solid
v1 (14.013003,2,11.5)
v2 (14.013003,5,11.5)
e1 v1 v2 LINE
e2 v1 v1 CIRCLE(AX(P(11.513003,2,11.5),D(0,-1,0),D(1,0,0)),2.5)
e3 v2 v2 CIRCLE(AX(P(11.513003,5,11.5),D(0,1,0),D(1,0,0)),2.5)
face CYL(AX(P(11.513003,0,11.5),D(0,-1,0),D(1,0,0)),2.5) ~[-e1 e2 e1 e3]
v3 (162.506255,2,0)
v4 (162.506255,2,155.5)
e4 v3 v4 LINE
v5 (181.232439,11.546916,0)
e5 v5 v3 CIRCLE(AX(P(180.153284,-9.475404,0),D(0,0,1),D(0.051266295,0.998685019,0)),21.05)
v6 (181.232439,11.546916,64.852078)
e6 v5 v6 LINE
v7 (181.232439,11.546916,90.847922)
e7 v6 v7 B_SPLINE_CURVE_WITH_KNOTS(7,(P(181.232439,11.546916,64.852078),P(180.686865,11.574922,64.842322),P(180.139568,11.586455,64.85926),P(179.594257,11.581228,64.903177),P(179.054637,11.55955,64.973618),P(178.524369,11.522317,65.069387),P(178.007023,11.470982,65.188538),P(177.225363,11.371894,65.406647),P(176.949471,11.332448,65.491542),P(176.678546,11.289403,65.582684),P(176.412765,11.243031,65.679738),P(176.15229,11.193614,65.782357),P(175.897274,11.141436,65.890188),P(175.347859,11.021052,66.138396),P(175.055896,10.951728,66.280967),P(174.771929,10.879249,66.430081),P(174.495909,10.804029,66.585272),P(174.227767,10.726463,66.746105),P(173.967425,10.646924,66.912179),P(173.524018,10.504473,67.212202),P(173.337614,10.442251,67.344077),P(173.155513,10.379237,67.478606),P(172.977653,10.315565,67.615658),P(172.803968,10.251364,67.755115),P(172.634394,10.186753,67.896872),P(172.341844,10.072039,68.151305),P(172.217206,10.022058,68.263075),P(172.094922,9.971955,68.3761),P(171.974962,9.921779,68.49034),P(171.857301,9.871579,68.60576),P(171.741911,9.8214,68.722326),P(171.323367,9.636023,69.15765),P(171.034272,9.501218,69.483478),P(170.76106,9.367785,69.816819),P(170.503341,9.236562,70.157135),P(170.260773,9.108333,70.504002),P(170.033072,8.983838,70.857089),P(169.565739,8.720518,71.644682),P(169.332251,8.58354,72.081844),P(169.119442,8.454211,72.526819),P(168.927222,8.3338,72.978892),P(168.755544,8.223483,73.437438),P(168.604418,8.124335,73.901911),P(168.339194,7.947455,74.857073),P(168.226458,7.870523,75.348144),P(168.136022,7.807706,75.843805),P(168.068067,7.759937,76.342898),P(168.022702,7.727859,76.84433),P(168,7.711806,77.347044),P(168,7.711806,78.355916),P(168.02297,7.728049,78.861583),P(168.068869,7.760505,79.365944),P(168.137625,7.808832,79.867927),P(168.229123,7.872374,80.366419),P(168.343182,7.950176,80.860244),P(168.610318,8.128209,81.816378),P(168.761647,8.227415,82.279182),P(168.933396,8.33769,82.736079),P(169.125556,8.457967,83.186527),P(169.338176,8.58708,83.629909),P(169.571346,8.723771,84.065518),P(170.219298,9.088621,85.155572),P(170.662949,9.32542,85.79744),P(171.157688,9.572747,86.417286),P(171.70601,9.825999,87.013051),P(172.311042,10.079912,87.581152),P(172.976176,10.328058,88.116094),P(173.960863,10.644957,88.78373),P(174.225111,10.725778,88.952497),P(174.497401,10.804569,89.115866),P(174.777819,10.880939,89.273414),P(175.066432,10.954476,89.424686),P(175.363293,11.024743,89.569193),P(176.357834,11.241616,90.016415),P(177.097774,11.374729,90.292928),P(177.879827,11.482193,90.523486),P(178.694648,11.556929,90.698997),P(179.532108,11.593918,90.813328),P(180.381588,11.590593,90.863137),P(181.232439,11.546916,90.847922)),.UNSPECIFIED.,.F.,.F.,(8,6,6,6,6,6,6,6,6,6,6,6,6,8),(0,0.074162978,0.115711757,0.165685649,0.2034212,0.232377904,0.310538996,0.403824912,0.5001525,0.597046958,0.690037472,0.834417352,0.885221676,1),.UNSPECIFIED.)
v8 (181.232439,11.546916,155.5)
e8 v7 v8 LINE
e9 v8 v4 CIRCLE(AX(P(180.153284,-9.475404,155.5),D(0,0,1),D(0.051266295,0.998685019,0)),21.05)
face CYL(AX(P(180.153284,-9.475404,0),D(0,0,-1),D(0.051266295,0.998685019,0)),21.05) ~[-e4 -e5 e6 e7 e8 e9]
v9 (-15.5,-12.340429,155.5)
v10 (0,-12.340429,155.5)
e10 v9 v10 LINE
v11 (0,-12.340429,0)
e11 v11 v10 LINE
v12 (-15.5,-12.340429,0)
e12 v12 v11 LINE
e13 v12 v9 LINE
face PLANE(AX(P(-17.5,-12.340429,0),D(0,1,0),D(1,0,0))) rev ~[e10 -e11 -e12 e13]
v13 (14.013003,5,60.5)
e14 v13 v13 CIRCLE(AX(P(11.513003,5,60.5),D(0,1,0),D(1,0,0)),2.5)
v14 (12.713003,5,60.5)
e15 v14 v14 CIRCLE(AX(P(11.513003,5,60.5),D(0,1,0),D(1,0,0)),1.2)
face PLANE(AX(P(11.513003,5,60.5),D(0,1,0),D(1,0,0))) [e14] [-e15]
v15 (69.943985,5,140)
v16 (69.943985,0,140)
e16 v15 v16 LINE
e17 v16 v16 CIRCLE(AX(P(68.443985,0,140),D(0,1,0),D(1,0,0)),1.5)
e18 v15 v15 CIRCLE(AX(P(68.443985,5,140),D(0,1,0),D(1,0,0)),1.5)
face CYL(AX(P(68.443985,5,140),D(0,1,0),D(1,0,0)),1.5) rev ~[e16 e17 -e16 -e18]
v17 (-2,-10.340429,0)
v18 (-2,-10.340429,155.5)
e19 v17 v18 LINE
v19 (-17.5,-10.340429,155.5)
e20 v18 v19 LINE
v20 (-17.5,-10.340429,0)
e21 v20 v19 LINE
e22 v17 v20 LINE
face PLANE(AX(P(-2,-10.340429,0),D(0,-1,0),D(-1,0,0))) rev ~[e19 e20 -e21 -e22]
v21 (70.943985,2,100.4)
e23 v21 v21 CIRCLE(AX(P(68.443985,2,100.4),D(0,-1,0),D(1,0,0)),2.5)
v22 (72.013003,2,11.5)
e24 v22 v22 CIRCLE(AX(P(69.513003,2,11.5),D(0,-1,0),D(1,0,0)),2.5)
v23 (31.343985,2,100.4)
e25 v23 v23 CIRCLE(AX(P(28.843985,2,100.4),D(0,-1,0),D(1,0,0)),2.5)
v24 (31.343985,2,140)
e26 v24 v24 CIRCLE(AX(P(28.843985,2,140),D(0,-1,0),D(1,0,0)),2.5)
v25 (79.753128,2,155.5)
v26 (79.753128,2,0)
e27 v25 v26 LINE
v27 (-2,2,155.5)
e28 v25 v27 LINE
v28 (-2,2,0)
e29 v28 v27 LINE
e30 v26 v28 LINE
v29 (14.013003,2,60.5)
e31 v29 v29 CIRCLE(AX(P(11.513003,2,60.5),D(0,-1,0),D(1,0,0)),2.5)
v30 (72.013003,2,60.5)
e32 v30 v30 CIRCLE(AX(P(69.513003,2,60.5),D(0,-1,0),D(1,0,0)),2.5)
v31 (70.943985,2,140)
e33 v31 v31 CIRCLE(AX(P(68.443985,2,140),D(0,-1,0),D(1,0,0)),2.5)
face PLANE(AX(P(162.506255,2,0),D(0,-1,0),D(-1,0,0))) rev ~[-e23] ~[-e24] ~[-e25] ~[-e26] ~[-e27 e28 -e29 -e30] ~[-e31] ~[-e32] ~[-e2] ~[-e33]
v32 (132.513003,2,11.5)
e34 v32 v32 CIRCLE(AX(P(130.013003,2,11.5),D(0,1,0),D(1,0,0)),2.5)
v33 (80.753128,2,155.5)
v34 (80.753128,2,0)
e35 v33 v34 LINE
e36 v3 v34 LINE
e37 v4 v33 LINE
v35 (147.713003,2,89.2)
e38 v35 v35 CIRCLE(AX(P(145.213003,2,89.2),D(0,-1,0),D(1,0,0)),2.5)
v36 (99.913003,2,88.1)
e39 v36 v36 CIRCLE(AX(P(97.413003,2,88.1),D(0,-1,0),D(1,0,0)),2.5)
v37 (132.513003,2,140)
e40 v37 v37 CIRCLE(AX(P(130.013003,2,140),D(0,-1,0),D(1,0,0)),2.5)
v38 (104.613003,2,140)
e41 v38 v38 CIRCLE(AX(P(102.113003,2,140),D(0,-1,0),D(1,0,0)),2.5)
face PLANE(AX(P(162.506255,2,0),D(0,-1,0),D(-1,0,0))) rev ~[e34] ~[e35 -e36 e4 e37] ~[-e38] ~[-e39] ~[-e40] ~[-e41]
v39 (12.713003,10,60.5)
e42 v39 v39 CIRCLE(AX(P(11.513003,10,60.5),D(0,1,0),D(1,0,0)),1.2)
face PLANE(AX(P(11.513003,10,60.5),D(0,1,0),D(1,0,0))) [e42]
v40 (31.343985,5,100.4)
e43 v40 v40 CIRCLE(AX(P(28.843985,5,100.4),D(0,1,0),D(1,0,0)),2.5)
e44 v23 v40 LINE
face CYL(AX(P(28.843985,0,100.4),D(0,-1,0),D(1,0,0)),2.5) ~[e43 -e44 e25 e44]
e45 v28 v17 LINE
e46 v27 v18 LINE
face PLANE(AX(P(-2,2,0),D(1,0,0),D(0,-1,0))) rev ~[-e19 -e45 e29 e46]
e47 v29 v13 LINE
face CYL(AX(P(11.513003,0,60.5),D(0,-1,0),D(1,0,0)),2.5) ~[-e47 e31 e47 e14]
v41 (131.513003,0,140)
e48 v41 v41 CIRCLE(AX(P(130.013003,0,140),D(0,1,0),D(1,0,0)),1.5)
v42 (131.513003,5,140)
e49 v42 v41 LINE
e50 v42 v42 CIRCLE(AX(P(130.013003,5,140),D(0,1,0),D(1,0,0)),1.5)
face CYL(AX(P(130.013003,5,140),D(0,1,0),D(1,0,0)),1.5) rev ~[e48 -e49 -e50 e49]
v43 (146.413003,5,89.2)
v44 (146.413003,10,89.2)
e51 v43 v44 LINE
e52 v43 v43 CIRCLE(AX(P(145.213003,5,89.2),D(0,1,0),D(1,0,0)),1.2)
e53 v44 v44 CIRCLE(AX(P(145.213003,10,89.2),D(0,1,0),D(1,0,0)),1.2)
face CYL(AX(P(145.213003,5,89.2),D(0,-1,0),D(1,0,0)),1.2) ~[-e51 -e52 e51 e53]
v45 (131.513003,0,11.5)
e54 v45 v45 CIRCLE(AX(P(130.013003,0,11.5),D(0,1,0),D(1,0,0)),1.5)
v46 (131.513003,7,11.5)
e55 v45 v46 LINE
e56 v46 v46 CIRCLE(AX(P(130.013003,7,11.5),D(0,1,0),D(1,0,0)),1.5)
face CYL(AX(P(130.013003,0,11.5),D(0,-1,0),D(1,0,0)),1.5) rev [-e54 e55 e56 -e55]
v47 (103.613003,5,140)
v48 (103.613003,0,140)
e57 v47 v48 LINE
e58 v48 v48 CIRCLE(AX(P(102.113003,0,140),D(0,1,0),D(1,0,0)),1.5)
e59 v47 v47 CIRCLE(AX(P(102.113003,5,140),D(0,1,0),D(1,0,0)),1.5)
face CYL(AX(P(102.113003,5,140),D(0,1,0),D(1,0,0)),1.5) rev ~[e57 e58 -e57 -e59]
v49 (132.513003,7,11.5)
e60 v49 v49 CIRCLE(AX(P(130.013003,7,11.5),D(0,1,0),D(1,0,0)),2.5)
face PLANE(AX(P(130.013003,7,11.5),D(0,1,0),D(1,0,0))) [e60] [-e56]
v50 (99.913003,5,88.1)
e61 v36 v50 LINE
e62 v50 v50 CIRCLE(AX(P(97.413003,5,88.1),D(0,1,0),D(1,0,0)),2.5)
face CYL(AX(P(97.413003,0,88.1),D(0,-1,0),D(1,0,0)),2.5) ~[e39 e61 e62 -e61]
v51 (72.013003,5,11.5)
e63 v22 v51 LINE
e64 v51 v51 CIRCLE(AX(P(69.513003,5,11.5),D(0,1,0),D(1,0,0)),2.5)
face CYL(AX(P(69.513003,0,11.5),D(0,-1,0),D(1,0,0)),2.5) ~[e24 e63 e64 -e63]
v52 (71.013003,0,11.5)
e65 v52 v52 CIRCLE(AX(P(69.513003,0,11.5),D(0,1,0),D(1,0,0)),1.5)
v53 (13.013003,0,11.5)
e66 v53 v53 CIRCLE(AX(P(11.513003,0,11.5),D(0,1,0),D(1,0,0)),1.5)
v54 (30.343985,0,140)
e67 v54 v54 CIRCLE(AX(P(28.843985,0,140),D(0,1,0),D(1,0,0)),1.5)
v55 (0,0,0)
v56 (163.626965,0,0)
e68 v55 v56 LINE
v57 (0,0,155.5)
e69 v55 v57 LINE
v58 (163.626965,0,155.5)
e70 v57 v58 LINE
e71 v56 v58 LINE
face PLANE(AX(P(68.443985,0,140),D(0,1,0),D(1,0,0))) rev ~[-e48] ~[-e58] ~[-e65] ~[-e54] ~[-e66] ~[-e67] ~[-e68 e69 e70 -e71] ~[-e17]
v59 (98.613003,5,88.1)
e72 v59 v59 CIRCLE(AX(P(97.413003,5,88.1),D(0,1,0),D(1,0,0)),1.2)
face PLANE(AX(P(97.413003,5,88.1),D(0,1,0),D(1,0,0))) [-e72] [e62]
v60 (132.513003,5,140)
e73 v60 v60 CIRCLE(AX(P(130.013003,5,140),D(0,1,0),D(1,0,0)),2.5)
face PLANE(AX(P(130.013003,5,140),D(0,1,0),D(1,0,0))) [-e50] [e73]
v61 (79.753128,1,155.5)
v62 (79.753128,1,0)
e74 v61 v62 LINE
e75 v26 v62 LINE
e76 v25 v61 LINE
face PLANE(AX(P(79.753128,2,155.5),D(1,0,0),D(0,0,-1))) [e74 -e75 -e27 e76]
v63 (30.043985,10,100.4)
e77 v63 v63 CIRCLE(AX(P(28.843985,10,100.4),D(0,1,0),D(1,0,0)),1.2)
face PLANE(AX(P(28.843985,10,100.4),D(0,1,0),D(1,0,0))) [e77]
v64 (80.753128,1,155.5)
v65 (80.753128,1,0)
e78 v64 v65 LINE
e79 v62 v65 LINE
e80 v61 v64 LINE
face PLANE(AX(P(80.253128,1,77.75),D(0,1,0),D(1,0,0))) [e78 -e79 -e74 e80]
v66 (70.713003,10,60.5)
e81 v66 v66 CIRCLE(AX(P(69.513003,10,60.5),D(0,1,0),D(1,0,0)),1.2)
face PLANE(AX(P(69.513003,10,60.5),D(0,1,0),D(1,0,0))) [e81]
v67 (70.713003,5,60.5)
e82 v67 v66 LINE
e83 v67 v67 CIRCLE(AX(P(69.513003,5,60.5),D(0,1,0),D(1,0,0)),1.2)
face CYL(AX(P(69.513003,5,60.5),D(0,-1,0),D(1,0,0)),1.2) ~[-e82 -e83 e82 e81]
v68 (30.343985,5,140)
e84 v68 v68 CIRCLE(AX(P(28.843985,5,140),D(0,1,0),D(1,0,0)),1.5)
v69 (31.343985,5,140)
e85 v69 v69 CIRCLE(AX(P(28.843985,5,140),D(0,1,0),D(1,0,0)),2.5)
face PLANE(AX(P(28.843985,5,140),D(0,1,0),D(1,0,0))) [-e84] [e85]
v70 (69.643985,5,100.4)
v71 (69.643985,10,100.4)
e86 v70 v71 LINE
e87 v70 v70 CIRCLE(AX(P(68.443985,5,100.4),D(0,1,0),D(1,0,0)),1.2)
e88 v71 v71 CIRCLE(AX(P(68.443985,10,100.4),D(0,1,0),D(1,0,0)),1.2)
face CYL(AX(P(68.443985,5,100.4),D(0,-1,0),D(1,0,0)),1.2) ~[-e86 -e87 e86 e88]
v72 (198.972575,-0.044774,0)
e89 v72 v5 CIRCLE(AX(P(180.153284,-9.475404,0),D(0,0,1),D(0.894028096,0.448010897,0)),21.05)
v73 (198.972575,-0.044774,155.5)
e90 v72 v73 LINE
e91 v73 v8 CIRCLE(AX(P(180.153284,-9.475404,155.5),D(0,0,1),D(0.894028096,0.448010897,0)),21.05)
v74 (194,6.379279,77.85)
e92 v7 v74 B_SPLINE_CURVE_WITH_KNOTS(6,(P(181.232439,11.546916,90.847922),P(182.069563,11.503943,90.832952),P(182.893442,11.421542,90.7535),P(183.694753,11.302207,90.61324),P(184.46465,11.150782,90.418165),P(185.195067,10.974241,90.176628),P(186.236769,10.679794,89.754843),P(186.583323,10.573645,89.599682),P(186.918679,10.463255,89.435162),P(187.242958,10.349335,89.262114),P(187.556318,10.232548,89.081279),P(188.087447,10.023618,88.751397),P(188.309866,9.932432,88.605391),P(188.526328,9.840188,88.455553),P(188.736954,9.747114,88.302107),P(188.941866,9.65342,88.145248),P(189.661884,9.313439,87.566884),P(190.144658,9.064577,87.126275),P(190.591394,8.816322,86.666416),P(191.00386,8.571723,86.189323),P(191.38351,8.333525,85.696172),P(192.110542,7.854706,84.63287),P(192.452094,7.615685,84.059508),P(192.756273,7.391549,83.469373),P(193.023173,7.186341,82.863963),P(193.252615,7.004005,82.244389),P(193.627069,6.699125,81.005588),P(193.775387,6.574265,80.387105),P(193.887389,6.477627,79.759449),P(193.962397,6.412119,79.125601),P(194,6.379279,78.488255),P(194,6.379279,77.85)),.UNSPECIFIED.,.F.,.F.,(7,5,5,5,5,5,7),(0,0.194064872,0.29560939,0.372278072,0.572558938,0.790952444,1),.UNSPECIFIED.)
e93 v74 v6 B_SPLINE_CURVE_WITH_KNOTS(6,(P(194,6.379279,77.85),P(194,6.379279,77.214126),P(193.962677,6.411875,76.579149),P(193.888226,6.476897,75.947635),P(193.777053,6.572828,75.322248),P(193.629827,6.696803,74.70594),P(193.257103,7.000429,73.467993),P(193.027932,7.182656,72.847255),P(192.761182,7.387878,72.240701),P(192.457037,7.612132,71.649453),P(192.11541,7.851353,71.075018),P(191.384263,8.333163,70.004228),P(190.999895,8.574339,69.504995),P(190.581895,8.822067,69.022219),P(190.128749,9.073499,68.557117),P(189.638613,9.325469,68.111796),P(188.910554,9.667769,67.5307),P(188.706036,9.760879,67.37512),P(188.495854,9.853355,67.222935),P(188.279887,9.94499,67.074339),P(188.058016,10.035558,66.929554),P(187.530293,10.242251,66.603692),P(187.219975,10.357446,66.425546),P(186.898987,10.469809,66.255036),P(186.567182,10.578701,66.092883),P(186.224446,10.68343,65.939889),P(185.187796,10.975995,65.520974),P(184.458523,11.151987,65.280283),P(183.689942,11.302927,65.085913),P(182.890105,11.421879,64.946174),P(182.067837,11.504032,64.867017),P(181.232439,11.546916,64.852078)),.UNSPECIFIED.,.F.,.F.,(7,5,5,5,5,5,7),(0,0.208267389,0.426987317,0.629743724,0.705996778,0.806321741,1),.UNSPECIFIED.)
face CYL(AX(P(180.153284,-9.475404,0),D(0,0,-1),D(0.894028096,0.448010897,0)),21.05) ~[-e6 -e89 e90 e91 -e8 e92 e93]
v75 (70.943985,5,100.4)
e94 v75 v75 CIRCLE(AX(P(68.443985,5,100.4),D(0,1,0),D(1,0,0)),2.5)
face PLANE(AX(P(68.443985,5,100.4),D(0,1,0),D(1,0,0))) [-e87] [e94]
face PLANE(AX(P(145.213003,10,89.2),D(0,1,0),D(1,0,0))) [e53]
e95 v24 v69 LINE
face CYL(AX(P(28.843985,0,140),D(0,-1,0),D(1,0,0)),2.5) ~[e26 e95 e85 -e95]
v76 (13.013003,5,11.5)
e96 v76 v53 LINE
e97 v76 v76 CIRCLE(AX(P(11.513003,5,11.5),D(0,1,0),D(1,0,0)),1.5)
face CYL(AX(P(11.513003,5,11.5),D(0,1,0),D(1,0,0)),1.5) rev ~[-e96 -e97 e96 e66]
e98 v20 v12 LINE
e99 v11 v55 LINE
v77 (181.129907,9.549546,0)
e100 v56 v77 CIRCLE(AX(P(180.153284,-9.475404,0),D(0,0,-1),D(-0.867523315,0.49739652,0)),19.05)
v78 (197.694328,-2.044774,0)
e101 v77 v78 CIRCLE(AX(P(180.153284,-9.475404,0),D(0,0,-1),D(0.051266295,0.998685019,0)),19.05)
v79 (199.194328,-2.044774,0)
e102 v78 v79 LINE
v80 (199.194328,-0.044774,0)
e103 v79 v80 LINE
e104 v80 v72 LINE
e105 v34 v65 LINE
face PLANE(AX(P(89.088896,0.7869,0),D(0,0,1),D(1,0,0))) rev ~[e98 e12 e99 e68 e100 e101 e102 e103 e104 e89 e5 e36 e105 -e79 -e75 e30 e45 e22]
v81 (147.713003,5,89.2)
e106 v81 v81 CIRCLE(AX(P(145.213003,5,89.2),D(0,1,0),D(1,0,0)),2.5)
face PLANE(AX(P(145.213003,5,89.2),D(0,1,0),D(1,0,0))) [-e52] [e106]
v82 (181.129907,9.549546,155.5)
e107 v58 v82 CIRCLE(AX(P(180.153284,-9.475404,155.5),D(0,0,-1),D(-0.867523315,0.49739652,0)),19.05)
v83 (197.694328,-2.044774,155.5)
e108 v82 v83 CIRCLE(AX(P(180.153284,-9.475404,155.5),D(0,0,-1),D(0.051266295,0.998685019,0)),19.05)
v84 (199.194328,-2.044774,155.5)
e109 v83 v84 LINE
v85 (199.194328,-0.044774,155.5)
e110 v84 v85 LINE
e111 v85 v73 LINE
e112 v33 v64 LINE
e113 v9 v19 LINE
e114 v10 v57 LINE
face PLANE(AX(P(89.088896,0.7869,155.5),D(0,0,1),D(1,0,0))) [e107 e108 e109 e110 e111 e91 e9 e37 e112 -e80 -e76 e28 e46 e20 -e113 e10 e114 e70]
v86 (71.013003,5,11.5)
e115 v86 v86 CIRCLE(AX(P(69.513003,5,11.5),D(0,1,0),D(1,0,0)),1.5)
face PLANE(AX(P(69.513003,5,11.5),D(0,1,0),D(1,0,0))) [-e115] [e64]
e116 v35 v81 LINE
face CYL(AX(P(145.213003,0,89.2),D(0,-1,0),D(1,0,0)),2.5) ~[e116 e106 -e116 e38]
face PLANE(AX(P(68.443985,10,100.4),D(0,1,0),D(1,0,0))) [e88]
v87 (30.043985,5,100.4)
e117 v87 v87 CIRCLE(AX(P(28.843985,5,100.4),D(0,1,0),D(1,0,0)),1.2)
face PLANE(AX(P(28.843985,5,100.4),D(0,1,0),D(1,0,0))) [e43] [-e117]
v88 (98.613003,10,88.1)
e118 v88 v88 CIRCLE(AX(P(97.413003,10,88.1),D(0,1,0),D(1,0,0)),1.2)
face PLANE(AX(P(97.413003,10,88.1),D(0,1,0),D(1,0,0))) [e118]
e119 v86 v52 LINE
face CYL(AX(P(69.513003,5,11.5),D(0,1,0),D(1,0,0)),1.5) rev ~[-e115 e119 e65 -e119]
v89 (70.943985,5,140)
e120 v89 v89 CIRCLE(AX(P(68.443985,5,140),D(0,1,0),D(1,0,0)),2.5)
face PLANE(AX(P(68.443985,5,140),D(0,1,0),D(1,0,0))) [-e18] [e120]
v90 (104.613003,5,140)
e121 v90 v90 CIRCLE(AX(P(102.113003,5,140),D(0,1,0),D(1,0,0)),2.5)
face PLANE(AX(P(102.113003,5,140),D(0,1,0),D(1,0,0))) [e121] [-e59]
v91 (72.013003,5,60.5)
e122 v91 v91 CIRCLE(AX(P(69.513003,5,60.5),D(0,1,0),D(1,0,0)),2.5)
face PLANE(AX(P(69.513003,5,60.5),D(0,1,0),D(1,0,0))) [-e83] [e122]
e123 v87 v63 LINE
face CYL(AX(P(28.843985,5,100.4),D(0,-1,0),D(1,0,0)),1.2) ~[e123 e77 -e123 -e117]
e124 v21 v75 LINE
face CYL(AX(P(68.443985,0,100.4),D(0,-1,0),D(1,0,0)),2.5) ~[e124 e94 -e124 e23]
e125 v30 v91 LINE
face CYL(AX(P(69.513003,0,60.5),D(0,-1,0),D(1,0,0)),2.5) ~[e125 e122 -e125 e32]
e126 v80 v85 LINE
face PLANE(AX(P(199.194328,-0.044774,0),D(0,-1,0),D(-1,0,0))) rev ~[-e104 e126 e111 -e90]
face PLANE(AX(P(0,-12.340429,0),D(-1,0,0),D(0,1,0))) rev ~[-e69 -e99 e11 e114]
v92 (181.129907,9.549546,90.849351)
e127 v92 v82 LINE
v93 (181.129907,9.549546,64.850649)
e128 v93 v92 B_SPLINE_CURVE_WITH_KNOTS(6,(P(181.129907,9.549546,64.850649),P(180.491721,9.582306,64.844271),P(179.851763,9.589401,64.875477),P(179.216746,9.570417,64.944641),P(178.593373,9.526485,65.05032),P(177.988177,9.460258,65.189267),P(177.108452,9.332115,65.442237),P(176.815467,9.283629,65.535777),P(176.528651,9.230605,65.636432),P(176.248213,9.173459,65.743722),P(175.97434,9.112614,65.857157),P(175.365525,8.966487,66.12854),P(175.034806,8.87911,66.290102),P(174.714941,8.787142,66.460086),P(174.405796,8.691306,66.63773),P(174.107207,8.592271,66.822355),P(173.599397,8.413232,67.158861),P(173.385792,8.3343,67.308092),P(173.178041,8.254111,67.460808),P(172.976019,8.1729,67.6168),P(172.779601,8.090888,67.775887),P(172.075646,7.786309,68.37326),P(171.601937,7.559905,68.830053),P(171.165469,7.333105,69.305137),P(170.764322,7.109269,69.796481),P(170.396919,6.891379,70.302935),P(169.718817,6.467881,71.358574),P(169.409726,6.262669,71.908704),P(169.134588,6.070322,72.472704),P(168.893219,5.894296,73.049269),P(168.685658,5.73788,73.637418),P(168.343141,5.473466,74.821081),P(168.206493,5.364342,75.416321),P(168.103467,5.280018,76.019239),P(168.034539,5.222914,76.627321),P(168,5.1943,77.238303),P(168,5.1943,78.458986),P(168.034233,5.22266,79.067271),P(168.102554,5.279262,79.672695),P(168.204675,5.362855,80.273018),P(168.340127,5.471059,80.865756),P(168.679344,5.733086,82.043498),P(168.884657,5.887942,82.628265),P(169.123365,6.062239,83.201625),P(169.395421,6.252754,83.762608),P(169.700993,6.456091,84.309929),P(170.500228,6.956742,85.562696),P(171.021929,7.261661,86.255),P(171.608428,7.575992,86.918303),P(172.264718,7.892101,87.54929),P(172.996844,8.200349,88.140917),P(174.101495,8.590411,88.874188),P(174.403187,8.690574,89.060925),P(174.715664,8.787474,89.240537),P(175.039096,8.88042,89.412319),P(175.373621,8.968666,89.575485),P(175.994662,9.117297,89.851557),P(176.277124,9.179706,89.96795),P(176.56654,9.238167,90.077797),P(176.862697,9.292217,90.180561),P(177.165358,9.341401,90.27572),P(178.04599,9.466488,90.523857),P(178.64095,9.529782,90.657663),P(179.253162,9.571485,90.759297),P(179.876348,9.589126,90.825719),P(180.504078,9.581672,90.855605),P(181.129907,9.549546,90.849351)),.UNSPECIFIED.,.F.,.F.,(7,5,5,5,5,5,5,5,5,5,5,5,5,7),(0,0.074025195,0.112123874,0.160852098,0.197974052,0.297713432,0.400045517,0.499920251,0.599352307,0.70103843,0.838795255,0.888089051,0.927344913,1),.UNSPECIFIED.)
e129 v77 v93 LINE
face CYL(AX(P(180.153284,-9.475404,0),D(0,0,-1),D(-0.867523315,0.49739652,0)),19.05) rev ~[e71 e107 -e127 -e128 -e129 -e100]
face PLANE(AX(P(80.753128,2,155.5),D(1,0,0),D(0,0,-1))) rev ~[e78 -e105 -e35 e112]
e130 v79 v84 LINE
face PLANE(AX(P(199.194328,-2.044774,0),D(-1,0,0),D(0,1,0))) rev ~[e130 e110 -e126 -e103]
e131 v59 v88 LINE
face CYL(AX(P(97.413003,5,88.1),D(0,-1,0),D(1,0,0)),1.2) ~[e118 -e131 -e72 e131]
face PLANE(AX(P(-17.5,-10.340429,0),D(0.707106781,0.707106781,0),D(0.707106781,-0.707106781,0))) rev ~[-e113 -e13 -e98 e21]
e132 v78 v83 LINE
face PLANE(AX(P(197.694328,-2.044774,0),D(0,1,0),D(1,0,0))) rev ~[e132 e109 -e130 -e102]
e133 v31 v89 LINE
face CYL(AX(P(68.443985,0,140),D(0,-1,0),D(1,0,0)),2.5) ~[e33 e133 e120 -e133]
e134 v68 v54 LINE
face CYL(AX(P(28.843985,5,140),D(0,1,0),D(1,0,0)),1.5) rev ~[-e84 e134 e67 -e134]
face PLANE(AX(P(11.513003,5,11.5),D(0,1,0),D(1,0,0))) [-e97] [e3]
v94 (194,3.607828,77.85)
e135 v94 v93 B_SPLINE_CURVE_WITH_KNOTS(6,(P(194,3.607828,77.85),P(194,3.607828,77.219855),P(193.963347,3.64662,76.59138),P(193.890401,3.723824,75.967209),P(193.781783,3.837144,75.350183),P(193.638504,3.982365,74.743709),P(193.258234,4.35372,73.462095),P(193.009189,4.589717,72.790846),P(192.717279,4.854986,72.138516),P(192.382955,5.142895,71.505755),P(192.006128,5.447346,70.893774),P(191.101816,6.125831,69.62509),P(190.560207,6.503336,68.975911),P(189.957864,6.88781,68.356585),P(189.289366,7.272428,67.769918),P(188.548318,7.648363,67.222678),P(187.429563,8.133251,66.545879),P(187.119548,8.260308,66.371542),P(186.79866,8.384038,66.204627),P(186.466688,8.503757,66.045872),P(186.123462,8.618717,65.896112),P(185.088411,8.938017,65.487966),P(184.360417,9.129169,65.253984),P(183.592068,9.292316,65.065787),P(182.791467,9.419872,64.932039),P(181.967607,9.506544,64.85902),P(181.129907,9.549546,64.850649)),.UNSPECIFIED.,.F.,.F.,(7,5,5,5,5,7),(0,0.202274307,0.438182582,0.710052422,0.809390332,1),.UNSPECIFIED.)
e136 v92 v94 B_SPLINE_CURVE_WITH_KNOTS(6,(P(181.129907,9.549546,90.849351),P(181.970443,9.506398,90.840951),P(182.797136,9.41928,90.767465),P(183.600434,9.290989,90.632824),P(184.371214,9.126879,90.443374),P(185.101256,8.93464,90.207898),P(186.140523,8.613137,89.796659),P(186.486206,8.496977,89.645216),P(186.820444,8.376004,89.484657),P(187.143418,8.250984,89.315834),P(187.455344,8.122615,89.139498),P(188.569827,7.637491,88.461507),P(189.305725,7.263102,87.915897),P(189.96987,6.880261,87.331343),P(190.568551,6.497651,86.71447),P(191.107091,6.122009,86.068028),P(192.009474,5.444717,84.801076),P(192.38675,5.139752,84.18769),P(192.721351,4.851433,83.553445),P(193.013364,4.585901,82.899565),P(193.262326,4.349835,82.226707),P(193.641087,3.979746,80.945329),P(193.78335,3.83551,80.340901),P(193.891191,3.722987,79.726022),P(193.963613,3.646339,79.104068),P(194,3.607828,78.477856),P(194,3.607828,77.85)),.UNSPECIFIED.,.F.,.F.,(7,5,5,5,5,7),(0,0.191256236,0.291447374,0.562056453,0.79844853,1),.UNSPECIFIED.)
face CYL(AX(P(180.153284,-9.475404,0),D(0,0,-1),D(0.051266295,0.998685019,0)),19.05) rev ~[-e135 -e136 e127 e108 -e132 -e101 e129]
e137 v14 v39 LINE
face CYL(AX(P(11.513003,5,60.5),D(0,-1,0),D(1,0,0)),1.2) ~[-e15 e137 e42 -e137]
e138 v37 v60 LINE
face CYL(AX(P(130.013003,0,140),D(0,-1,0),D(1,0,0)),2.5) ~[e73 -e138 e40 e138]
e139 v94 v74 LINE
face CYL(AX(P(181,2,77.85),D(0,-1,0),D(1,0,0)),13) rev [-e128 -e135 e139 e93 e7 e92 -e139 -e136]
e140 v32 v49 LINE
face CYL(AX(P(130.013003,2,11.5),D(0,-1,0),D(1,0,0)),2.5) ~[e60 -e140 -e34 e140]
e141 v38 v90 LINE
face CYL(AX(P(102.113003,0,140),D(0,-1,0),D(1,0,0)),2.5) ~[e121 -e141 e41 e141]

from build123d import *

# Parameters (mm, degrees)
LINEAR_AUSTRAGEN_D_NN1_DEPTH     = 155.5
SKIZZE7_R                        = 2.5
AUFSATZ_LINEAR_AUSTRAGEN3_DEPTH  = 5
SKIZZE8_R                        = 1.5
SCHNITT_LINEAR_AUSTRAGEN1_DEPTH  = 8
SKIZZE12_R                       = 1.5
SCHNITT_LINEAR_AUSTRAGEN4_DEPTH  = 8
SKIZZE13_R                       = 2.5
AUFSATZ_LINEAR_AUSTRAGEN5_DEPTH  = 5
SKIZZE16_R                       = 1.5
SCHNITT_LINEAR_AUSTRAGEN9_DEPTH  = 8
SKIZZE17_R                       = 1.5
SCHNITT_LINEAR_AUSTRAGEN10_DEPTH = 8
SKIZZE18_R                       = 2.5
AUFSATZ_LINEAR_AUSTRAGEN6_DEPTH  = 5
SKIZZE21_R                       = 1.5
SCHNITT_LINEAR_AUSTRAGEN13_DEPTH = 8
SKIZZE22_R                       = 1.5
SCHNITT_LINEAR_AUSTRAGEN14_DEPTH = 8
SKIZZE20_R                       = 1.2
AUFSATZ_LINEAR_AUSTRAGEN7_DEPTH  = 5
SKIZZE19_R                       = 1.2
AUFSATZ_LINEAR_AUSTRAGEN8_DEPTH  = 5
SKIZZE15_R                       = 1.2
AUFSATZ_LINEAR_AUSTRAGEN9_DEPTH  = 5
SKIZZE14_R                       = 1.2
AUFSATZ_LINEAR_AUSTRAGEN11_DEPTH = 5
SKIZZE10_R                       = 1.2
AUFSATZ_LINEAR_AUSTRAGEN12_DEPTH = 5
SKIZZE11_R                       = 1.2
AUFSATZ_LINEAR_AUSTRAGEN13_DEPTH = 5
CUT_EXTRUDE2_DEPTH               = 156.5
SKIZZE23_R                       = 13
SCHNITT_LINEAR_AUSTRAGEN15_DEPTH = 13
SKETCH5_W                        = 1
SKETCH5_H                        = 155.5
CUT_EXTRUDE_THIN1_DEPTH          = 1
SKETCH6_R                        = 2.5
SKETCH6_R_2                      = 1.5
BOSS_EXTRUDE1_DEPTH              = 5
CUT_EXTRUDE3_START               = -2
SKETCH7_R                        = 1.5
CUT_EXTRUDE3_DEPTH               = 2


with BuildPart() as part:
    # Skizze5 → Linear-Austragen-Dünn1 (new body)
    with BuildSketch(Plane.XY):
        with BuildLine():
            Line((-17.5, -12.340428851), (0, -12.340428851))
            Line((0, -12.340428851), (0, 0))
            Line((0, 0), (158.213118455, 0))
            Line((158.213118455, 0), (163.626964647, 0))
            ThreePointArc((163.626964647, 0), (171.029319744, 7.247508118), (181.129906705, 9.549545901))
            ThreePointArc((181.129906705, 9.549545901), (191.077251396, 6.131307404), (197.694328428, -2.044774322))
            Line((197.694328428, -2.044774322), (199.194328428, -2.044774322))
            Line((199.194328428, -2.044774322), (199.194328428, -0.044774322))
            Line((199.194328428, -0.044774322), (198.972575208, -0.044774322))
            ThreePointArc((198.972575208, -0.044774322), (191.667573532, 8.146277022), (181.232439294, 11.546915938))
            ThreePointArc((181.232439294, 11.546915938), (170.592452046, 9.278075868), (162.50625544, 2))
            Line((162.50625544, 2), (158.213118455, 2))
            Line((158.213118455, 2), (-2, 2))
            Line((-2, 2), (-2, -10.340428851))
            Line((-2, -10.340428851), (-17.5, -10.340428851))
            Line((-17.5, -10.340428851), (-17.5, -12.340428851))
        make_face()
    extrude(amount=LINEAR_AUSTRAGEN_D_NN1_DEPTH)

    # Skizze7 → Aufsatz-Linear austragen3 (add)
    with BuildSketch(Plane(origin=(0.013003032, 0, 0), x_dir=(1, 0, 0), z_dir=(0, 1, 0))):
        with Locations((11.5, -11.5)):
            Circle(SKIZZE7_R)
        with Locations((69.5, -11.5)):
            Circle(SKIZZE7_R)
        with Locations((11.5, -60.5)):
            Circle(SKIZZE7_R)
        with Locations((69.5, -60.5)):
            Circle(SKIZZE7_R)
    extrude(amount=AUFSATZ_LINEAR_AUSTRAGEN3_DEPTH)

    # Skizze8 → Schnitt-Linear austragen1 (cut)
    with BuildSketch(Plane(origin=(0, 5, 0), x_dir=(1, 0, 0), z_dir=(0, 1, 0))):
        with Locations((11.513003032, -11.5)):
            Circle(SKIZZE8_R)
    extrude(amount=-SCHNITT_LINEAR_AUSTRAGEN1_DEPTH, mode=Mode.SUBTRACT)

    # Skizze12 → Schnitt-Linear austragen4 (cut)
    with BuildSketch(Plane(origin=(0, 5, 0), x_dir=(1, 0, 0), z_dir=(0, 1, 0))):
        with Locations((69.513003032, -11.5)):
            Circle(SKIZZE12_R)
    extrude(amount=-SCHNITT_LINEAR_AUSTRAGEN4_DEPTH, mode=Mode.SUBTRACT)

    # Skizze13 → Aufsatz-Linear austragen5 (add)
    with BuildSketch(Plane(origin=(0.013003032, 0, 0), x_dir=(1, 0, 0), z_dir=(0, 1, 0))):
        with Locations((130, -140)):
            Circle(SKIZZE13_R)
        with Locations((102.1, -140)):
            Circle(SKIZZE13_R)
        with Locations((145.2, -89.2)):
            Circle(SKIZZE13_R)
        with Locations((97.4, -88.1)):
            Circle(SKIZZE13_R)
    extrude(amount=AUFSATZ_LINEAR_AUSTRAGEN5_DEPTH)

    # Skizze16 → Schnitt-Linear austragen9 (cut)
    with BuildSketch(Plane(origin=(0, 5, 0), x_dir=(1, 0, 0), z_dir=(0, 1, 0))):
        with Locations((102.113003032, -140)):
            Circle(SKIZZE16_R)
    extrude(amount=-SCHNITT_LINEAR_AUSTRAGEN9_DEPTH, mode=Mode.SUBTRACT)

    # Skizze17 → Schnitt-Linear austragen10 (cut)
    with BuildSketch(Plane(origin=(0, 5, 0), x_dir=(1, 0, 0), z_dir=(0, 1, 0))):
        with Locations((130.013003032, -140)):
            Circle(SKIZZE17_R)
    extrude(amount=-SCHNITT_LINEAR_AUSTRAGEN10_DEPTH, mode=Mode.SUBTRACT)

    # Skizze18 → Aufsatz-Linear austragen6 (add)
    with BuildSketch(Plane(origin=(0.013003032, 0, 0), x_dir=(1, 0, 0), z_dir=(0, 1, 0))):
        with Locations((68.430981836, -140)):
            Circle(SKIZZE18_R)
        with Locations((28.830981836, -140)):
            Circle(SKIZZE18_R)
        with Locations((28.83098184, -100.4)):
            Circle(SKIZZE18_R)
        with Locations((68.430981836, -100.4)):
            Circle(SKIZZE18_R)
    extrude(amount=AUFSATZ_LINEAR_AUSTRAGEN6_DEPTH)

    # Skizze21 → Schnitt-Linear austragen13 (cut)
    with BuildSketch(Plane(origin=(0, 5, 0), x_dir=(1, 0, 0), z_dir=(0, 1, 0))):
        with Locations((28.843984868, -140)):
            Circle(SKIZZE21_R)
    extrude(amount=-SCHNITT_LINEAR_AUSTRAGEN13_DEPTH, mode=Mode.SUBTRACT)

    # Skizze22 → Schnitt-Linear austragen14 (cut)
    with BuildSketch(Plane(origin=(0, 5, 0), x_dir=(1, 0, 0), z_dir=(0, 1, 0))):
        with Locations((68.443984868, -140)):
            Circle(SKIZZE22_R)
    extrude(amount=-SCHNITT_LINEAR_AUSTRAGEN14_DEPTH, mode=Mode.SUBTRACT)

    # Skizze20 → Aufsatz-Linear austragen7 (add)
    with BuildSketch(Plane(origin=(0, 5, 0), x_dir=(1, 0, 0), z_dir=(0, 1, 0))):
        with Locations((28.843984872, -100.4)):
            Circle(SKIZZE20_R)
    extrude(amount=AUFSATZ_LINEAR_AUSTRAGEN7_DEPTH)

    # Skizze19 → Aufsatz-Linear austragen8 (add)
    with BuildSketch(Plane(origin=(0, 5, 0), x_dir=(1, 0, 0), z_dir=(0, 1, 0))):
        with Locations((68.443984868, -100.4)):
            Circle(SKIZZE19_R)
    extrude(amount=AUFSATZ_LINEAR_AUSTRAGEN8_DEPTH)

    # Skizze15 → Aufsatz-Linear austragen9 (add)
    with BuildSketch(Plane(origin=(0, 5, 0), x_dir=(1, 0, 0), z_dir=(0, 1, 0))):
        with Locations((97.413003032, -88.1)):
            Circle(SKIZZE15_R)
    extrude(amount=AUFSATZ_LINEAR_AUSTRAGEN9_DEPTH)

    # Skizze14 → Aufsatz-Linear austragen11 (add)
    with BuildSketch(Plane(origin=(0, 5, 0), x_dir=(1, 0, 0), z_dir=(0, 1, 0))):
        with Locations((145.213003032, -89.2)):
            Circle(SKIZZE14_R)
    extrude(amount=AUFSATZ_LINEAR_AUSTRAGEN11_DEPTH)

    # Skizze10 → Aufsatz-Linear austragen12 (add)
    with BuildSketch(Plane(origin=(0, 5, 0), x_dir=(1, 0, 0), z_dir=(0, 1, 0))):
        with Locations((11.513003032, -60.5)):
            Circle(SKIZZE10_R)
    extrude(amount=AUFSATZ_LINEAR_AUSTRAGEN12_DEPTH)

    # Skizze11 → Aufsatz-Linear austragen13 (add)
    with BuildSketch(Plane(origin=(0, 5, 0), x_dir=(1, 0, 0), z_dir=(0, 1, 0))):
        with Locations((69.513003032, -60.5)):
            Circle(SKIZZE11_R)
    extrude(amount=AUFSATZ_LINEAR_AUSTRAGEN13_DEPTH)

    # Sketch3 → Cut-Extrude2 (cut, through all)
    with BuildSketch(Plane(origin=(0, 0, 0), x_dir=(-1, 0, 0), z_dir=(0, 0, -1))):
        Polygon((17.5, -10.340428851), (15.5, -12.340428851), (17.5, -12.340428851), align=None)
    extrude(amount=-CUT_EXTRUDE2_DEPTH, mode=Mode.SUBTRACT)

    # Skizze23 → Schnitt-Linear austragen15 (cut)
    with BuildSketch(Plane(origin=(0, 2, 0), x_dir=(1, 0, 0), z_dir=(0, 1, 0))):
        with Locations((181, -77.85)):
            Circle(SKIZZE23_R)
    extrude(amount=SCHNITT_LINEAR_AUSTRAGEN15_DEPTH, mode=Mode.SUBTRACT)

    # Sketch5 → Cut-Extrude-Thin1 (cut)
    with BuildSketch(Plane(origin=(0, 2, 0), x_dir=(1, 0, 0), z_dir=(0, 1, 0))):
        with Locations((80.25312772, -77.75)):
            Rectangle(SKETCH5_W, SKETCH5_H)
    extrude(amount=-CUT_EXTRUDE_THIN1_DEPTH, mode=Mode.SUBTRACT)

    # Sketch6 → Boss-Extrude1 (add)
    with BuildSketch(Plane(origin=(0, 2, 0), x_dir=(1, 0, 0), z_dir=(0, 1, 0))):
        with Locations((130.01300303, -11.5)):
            Circle(SKETCH6_R)
        with Locations((130.01300303, -11.5)):
            Circle(SKETCH6_R_2, mode=Mode.SUBTRACT)
    extrude(amount=BOSS_EXTRUDE1_DEPTH)

    # Sketch7 → Cut-Extrude3 (cut)
    with BuildSketch(Plane(origin=(0, 2, 0), x_dir=(1, 0, 0), z_dir=(0, 1, 0)).offset(CUT_EXTRUDE3_START)):
        with Locations((130.01300303, -11.5)):
            Circle(SKETCH7_R)
    extrude(amount=CUT_EXTRUDE3_DEPTH, mode=Mode.SUBTRACT)


solid = part.part
